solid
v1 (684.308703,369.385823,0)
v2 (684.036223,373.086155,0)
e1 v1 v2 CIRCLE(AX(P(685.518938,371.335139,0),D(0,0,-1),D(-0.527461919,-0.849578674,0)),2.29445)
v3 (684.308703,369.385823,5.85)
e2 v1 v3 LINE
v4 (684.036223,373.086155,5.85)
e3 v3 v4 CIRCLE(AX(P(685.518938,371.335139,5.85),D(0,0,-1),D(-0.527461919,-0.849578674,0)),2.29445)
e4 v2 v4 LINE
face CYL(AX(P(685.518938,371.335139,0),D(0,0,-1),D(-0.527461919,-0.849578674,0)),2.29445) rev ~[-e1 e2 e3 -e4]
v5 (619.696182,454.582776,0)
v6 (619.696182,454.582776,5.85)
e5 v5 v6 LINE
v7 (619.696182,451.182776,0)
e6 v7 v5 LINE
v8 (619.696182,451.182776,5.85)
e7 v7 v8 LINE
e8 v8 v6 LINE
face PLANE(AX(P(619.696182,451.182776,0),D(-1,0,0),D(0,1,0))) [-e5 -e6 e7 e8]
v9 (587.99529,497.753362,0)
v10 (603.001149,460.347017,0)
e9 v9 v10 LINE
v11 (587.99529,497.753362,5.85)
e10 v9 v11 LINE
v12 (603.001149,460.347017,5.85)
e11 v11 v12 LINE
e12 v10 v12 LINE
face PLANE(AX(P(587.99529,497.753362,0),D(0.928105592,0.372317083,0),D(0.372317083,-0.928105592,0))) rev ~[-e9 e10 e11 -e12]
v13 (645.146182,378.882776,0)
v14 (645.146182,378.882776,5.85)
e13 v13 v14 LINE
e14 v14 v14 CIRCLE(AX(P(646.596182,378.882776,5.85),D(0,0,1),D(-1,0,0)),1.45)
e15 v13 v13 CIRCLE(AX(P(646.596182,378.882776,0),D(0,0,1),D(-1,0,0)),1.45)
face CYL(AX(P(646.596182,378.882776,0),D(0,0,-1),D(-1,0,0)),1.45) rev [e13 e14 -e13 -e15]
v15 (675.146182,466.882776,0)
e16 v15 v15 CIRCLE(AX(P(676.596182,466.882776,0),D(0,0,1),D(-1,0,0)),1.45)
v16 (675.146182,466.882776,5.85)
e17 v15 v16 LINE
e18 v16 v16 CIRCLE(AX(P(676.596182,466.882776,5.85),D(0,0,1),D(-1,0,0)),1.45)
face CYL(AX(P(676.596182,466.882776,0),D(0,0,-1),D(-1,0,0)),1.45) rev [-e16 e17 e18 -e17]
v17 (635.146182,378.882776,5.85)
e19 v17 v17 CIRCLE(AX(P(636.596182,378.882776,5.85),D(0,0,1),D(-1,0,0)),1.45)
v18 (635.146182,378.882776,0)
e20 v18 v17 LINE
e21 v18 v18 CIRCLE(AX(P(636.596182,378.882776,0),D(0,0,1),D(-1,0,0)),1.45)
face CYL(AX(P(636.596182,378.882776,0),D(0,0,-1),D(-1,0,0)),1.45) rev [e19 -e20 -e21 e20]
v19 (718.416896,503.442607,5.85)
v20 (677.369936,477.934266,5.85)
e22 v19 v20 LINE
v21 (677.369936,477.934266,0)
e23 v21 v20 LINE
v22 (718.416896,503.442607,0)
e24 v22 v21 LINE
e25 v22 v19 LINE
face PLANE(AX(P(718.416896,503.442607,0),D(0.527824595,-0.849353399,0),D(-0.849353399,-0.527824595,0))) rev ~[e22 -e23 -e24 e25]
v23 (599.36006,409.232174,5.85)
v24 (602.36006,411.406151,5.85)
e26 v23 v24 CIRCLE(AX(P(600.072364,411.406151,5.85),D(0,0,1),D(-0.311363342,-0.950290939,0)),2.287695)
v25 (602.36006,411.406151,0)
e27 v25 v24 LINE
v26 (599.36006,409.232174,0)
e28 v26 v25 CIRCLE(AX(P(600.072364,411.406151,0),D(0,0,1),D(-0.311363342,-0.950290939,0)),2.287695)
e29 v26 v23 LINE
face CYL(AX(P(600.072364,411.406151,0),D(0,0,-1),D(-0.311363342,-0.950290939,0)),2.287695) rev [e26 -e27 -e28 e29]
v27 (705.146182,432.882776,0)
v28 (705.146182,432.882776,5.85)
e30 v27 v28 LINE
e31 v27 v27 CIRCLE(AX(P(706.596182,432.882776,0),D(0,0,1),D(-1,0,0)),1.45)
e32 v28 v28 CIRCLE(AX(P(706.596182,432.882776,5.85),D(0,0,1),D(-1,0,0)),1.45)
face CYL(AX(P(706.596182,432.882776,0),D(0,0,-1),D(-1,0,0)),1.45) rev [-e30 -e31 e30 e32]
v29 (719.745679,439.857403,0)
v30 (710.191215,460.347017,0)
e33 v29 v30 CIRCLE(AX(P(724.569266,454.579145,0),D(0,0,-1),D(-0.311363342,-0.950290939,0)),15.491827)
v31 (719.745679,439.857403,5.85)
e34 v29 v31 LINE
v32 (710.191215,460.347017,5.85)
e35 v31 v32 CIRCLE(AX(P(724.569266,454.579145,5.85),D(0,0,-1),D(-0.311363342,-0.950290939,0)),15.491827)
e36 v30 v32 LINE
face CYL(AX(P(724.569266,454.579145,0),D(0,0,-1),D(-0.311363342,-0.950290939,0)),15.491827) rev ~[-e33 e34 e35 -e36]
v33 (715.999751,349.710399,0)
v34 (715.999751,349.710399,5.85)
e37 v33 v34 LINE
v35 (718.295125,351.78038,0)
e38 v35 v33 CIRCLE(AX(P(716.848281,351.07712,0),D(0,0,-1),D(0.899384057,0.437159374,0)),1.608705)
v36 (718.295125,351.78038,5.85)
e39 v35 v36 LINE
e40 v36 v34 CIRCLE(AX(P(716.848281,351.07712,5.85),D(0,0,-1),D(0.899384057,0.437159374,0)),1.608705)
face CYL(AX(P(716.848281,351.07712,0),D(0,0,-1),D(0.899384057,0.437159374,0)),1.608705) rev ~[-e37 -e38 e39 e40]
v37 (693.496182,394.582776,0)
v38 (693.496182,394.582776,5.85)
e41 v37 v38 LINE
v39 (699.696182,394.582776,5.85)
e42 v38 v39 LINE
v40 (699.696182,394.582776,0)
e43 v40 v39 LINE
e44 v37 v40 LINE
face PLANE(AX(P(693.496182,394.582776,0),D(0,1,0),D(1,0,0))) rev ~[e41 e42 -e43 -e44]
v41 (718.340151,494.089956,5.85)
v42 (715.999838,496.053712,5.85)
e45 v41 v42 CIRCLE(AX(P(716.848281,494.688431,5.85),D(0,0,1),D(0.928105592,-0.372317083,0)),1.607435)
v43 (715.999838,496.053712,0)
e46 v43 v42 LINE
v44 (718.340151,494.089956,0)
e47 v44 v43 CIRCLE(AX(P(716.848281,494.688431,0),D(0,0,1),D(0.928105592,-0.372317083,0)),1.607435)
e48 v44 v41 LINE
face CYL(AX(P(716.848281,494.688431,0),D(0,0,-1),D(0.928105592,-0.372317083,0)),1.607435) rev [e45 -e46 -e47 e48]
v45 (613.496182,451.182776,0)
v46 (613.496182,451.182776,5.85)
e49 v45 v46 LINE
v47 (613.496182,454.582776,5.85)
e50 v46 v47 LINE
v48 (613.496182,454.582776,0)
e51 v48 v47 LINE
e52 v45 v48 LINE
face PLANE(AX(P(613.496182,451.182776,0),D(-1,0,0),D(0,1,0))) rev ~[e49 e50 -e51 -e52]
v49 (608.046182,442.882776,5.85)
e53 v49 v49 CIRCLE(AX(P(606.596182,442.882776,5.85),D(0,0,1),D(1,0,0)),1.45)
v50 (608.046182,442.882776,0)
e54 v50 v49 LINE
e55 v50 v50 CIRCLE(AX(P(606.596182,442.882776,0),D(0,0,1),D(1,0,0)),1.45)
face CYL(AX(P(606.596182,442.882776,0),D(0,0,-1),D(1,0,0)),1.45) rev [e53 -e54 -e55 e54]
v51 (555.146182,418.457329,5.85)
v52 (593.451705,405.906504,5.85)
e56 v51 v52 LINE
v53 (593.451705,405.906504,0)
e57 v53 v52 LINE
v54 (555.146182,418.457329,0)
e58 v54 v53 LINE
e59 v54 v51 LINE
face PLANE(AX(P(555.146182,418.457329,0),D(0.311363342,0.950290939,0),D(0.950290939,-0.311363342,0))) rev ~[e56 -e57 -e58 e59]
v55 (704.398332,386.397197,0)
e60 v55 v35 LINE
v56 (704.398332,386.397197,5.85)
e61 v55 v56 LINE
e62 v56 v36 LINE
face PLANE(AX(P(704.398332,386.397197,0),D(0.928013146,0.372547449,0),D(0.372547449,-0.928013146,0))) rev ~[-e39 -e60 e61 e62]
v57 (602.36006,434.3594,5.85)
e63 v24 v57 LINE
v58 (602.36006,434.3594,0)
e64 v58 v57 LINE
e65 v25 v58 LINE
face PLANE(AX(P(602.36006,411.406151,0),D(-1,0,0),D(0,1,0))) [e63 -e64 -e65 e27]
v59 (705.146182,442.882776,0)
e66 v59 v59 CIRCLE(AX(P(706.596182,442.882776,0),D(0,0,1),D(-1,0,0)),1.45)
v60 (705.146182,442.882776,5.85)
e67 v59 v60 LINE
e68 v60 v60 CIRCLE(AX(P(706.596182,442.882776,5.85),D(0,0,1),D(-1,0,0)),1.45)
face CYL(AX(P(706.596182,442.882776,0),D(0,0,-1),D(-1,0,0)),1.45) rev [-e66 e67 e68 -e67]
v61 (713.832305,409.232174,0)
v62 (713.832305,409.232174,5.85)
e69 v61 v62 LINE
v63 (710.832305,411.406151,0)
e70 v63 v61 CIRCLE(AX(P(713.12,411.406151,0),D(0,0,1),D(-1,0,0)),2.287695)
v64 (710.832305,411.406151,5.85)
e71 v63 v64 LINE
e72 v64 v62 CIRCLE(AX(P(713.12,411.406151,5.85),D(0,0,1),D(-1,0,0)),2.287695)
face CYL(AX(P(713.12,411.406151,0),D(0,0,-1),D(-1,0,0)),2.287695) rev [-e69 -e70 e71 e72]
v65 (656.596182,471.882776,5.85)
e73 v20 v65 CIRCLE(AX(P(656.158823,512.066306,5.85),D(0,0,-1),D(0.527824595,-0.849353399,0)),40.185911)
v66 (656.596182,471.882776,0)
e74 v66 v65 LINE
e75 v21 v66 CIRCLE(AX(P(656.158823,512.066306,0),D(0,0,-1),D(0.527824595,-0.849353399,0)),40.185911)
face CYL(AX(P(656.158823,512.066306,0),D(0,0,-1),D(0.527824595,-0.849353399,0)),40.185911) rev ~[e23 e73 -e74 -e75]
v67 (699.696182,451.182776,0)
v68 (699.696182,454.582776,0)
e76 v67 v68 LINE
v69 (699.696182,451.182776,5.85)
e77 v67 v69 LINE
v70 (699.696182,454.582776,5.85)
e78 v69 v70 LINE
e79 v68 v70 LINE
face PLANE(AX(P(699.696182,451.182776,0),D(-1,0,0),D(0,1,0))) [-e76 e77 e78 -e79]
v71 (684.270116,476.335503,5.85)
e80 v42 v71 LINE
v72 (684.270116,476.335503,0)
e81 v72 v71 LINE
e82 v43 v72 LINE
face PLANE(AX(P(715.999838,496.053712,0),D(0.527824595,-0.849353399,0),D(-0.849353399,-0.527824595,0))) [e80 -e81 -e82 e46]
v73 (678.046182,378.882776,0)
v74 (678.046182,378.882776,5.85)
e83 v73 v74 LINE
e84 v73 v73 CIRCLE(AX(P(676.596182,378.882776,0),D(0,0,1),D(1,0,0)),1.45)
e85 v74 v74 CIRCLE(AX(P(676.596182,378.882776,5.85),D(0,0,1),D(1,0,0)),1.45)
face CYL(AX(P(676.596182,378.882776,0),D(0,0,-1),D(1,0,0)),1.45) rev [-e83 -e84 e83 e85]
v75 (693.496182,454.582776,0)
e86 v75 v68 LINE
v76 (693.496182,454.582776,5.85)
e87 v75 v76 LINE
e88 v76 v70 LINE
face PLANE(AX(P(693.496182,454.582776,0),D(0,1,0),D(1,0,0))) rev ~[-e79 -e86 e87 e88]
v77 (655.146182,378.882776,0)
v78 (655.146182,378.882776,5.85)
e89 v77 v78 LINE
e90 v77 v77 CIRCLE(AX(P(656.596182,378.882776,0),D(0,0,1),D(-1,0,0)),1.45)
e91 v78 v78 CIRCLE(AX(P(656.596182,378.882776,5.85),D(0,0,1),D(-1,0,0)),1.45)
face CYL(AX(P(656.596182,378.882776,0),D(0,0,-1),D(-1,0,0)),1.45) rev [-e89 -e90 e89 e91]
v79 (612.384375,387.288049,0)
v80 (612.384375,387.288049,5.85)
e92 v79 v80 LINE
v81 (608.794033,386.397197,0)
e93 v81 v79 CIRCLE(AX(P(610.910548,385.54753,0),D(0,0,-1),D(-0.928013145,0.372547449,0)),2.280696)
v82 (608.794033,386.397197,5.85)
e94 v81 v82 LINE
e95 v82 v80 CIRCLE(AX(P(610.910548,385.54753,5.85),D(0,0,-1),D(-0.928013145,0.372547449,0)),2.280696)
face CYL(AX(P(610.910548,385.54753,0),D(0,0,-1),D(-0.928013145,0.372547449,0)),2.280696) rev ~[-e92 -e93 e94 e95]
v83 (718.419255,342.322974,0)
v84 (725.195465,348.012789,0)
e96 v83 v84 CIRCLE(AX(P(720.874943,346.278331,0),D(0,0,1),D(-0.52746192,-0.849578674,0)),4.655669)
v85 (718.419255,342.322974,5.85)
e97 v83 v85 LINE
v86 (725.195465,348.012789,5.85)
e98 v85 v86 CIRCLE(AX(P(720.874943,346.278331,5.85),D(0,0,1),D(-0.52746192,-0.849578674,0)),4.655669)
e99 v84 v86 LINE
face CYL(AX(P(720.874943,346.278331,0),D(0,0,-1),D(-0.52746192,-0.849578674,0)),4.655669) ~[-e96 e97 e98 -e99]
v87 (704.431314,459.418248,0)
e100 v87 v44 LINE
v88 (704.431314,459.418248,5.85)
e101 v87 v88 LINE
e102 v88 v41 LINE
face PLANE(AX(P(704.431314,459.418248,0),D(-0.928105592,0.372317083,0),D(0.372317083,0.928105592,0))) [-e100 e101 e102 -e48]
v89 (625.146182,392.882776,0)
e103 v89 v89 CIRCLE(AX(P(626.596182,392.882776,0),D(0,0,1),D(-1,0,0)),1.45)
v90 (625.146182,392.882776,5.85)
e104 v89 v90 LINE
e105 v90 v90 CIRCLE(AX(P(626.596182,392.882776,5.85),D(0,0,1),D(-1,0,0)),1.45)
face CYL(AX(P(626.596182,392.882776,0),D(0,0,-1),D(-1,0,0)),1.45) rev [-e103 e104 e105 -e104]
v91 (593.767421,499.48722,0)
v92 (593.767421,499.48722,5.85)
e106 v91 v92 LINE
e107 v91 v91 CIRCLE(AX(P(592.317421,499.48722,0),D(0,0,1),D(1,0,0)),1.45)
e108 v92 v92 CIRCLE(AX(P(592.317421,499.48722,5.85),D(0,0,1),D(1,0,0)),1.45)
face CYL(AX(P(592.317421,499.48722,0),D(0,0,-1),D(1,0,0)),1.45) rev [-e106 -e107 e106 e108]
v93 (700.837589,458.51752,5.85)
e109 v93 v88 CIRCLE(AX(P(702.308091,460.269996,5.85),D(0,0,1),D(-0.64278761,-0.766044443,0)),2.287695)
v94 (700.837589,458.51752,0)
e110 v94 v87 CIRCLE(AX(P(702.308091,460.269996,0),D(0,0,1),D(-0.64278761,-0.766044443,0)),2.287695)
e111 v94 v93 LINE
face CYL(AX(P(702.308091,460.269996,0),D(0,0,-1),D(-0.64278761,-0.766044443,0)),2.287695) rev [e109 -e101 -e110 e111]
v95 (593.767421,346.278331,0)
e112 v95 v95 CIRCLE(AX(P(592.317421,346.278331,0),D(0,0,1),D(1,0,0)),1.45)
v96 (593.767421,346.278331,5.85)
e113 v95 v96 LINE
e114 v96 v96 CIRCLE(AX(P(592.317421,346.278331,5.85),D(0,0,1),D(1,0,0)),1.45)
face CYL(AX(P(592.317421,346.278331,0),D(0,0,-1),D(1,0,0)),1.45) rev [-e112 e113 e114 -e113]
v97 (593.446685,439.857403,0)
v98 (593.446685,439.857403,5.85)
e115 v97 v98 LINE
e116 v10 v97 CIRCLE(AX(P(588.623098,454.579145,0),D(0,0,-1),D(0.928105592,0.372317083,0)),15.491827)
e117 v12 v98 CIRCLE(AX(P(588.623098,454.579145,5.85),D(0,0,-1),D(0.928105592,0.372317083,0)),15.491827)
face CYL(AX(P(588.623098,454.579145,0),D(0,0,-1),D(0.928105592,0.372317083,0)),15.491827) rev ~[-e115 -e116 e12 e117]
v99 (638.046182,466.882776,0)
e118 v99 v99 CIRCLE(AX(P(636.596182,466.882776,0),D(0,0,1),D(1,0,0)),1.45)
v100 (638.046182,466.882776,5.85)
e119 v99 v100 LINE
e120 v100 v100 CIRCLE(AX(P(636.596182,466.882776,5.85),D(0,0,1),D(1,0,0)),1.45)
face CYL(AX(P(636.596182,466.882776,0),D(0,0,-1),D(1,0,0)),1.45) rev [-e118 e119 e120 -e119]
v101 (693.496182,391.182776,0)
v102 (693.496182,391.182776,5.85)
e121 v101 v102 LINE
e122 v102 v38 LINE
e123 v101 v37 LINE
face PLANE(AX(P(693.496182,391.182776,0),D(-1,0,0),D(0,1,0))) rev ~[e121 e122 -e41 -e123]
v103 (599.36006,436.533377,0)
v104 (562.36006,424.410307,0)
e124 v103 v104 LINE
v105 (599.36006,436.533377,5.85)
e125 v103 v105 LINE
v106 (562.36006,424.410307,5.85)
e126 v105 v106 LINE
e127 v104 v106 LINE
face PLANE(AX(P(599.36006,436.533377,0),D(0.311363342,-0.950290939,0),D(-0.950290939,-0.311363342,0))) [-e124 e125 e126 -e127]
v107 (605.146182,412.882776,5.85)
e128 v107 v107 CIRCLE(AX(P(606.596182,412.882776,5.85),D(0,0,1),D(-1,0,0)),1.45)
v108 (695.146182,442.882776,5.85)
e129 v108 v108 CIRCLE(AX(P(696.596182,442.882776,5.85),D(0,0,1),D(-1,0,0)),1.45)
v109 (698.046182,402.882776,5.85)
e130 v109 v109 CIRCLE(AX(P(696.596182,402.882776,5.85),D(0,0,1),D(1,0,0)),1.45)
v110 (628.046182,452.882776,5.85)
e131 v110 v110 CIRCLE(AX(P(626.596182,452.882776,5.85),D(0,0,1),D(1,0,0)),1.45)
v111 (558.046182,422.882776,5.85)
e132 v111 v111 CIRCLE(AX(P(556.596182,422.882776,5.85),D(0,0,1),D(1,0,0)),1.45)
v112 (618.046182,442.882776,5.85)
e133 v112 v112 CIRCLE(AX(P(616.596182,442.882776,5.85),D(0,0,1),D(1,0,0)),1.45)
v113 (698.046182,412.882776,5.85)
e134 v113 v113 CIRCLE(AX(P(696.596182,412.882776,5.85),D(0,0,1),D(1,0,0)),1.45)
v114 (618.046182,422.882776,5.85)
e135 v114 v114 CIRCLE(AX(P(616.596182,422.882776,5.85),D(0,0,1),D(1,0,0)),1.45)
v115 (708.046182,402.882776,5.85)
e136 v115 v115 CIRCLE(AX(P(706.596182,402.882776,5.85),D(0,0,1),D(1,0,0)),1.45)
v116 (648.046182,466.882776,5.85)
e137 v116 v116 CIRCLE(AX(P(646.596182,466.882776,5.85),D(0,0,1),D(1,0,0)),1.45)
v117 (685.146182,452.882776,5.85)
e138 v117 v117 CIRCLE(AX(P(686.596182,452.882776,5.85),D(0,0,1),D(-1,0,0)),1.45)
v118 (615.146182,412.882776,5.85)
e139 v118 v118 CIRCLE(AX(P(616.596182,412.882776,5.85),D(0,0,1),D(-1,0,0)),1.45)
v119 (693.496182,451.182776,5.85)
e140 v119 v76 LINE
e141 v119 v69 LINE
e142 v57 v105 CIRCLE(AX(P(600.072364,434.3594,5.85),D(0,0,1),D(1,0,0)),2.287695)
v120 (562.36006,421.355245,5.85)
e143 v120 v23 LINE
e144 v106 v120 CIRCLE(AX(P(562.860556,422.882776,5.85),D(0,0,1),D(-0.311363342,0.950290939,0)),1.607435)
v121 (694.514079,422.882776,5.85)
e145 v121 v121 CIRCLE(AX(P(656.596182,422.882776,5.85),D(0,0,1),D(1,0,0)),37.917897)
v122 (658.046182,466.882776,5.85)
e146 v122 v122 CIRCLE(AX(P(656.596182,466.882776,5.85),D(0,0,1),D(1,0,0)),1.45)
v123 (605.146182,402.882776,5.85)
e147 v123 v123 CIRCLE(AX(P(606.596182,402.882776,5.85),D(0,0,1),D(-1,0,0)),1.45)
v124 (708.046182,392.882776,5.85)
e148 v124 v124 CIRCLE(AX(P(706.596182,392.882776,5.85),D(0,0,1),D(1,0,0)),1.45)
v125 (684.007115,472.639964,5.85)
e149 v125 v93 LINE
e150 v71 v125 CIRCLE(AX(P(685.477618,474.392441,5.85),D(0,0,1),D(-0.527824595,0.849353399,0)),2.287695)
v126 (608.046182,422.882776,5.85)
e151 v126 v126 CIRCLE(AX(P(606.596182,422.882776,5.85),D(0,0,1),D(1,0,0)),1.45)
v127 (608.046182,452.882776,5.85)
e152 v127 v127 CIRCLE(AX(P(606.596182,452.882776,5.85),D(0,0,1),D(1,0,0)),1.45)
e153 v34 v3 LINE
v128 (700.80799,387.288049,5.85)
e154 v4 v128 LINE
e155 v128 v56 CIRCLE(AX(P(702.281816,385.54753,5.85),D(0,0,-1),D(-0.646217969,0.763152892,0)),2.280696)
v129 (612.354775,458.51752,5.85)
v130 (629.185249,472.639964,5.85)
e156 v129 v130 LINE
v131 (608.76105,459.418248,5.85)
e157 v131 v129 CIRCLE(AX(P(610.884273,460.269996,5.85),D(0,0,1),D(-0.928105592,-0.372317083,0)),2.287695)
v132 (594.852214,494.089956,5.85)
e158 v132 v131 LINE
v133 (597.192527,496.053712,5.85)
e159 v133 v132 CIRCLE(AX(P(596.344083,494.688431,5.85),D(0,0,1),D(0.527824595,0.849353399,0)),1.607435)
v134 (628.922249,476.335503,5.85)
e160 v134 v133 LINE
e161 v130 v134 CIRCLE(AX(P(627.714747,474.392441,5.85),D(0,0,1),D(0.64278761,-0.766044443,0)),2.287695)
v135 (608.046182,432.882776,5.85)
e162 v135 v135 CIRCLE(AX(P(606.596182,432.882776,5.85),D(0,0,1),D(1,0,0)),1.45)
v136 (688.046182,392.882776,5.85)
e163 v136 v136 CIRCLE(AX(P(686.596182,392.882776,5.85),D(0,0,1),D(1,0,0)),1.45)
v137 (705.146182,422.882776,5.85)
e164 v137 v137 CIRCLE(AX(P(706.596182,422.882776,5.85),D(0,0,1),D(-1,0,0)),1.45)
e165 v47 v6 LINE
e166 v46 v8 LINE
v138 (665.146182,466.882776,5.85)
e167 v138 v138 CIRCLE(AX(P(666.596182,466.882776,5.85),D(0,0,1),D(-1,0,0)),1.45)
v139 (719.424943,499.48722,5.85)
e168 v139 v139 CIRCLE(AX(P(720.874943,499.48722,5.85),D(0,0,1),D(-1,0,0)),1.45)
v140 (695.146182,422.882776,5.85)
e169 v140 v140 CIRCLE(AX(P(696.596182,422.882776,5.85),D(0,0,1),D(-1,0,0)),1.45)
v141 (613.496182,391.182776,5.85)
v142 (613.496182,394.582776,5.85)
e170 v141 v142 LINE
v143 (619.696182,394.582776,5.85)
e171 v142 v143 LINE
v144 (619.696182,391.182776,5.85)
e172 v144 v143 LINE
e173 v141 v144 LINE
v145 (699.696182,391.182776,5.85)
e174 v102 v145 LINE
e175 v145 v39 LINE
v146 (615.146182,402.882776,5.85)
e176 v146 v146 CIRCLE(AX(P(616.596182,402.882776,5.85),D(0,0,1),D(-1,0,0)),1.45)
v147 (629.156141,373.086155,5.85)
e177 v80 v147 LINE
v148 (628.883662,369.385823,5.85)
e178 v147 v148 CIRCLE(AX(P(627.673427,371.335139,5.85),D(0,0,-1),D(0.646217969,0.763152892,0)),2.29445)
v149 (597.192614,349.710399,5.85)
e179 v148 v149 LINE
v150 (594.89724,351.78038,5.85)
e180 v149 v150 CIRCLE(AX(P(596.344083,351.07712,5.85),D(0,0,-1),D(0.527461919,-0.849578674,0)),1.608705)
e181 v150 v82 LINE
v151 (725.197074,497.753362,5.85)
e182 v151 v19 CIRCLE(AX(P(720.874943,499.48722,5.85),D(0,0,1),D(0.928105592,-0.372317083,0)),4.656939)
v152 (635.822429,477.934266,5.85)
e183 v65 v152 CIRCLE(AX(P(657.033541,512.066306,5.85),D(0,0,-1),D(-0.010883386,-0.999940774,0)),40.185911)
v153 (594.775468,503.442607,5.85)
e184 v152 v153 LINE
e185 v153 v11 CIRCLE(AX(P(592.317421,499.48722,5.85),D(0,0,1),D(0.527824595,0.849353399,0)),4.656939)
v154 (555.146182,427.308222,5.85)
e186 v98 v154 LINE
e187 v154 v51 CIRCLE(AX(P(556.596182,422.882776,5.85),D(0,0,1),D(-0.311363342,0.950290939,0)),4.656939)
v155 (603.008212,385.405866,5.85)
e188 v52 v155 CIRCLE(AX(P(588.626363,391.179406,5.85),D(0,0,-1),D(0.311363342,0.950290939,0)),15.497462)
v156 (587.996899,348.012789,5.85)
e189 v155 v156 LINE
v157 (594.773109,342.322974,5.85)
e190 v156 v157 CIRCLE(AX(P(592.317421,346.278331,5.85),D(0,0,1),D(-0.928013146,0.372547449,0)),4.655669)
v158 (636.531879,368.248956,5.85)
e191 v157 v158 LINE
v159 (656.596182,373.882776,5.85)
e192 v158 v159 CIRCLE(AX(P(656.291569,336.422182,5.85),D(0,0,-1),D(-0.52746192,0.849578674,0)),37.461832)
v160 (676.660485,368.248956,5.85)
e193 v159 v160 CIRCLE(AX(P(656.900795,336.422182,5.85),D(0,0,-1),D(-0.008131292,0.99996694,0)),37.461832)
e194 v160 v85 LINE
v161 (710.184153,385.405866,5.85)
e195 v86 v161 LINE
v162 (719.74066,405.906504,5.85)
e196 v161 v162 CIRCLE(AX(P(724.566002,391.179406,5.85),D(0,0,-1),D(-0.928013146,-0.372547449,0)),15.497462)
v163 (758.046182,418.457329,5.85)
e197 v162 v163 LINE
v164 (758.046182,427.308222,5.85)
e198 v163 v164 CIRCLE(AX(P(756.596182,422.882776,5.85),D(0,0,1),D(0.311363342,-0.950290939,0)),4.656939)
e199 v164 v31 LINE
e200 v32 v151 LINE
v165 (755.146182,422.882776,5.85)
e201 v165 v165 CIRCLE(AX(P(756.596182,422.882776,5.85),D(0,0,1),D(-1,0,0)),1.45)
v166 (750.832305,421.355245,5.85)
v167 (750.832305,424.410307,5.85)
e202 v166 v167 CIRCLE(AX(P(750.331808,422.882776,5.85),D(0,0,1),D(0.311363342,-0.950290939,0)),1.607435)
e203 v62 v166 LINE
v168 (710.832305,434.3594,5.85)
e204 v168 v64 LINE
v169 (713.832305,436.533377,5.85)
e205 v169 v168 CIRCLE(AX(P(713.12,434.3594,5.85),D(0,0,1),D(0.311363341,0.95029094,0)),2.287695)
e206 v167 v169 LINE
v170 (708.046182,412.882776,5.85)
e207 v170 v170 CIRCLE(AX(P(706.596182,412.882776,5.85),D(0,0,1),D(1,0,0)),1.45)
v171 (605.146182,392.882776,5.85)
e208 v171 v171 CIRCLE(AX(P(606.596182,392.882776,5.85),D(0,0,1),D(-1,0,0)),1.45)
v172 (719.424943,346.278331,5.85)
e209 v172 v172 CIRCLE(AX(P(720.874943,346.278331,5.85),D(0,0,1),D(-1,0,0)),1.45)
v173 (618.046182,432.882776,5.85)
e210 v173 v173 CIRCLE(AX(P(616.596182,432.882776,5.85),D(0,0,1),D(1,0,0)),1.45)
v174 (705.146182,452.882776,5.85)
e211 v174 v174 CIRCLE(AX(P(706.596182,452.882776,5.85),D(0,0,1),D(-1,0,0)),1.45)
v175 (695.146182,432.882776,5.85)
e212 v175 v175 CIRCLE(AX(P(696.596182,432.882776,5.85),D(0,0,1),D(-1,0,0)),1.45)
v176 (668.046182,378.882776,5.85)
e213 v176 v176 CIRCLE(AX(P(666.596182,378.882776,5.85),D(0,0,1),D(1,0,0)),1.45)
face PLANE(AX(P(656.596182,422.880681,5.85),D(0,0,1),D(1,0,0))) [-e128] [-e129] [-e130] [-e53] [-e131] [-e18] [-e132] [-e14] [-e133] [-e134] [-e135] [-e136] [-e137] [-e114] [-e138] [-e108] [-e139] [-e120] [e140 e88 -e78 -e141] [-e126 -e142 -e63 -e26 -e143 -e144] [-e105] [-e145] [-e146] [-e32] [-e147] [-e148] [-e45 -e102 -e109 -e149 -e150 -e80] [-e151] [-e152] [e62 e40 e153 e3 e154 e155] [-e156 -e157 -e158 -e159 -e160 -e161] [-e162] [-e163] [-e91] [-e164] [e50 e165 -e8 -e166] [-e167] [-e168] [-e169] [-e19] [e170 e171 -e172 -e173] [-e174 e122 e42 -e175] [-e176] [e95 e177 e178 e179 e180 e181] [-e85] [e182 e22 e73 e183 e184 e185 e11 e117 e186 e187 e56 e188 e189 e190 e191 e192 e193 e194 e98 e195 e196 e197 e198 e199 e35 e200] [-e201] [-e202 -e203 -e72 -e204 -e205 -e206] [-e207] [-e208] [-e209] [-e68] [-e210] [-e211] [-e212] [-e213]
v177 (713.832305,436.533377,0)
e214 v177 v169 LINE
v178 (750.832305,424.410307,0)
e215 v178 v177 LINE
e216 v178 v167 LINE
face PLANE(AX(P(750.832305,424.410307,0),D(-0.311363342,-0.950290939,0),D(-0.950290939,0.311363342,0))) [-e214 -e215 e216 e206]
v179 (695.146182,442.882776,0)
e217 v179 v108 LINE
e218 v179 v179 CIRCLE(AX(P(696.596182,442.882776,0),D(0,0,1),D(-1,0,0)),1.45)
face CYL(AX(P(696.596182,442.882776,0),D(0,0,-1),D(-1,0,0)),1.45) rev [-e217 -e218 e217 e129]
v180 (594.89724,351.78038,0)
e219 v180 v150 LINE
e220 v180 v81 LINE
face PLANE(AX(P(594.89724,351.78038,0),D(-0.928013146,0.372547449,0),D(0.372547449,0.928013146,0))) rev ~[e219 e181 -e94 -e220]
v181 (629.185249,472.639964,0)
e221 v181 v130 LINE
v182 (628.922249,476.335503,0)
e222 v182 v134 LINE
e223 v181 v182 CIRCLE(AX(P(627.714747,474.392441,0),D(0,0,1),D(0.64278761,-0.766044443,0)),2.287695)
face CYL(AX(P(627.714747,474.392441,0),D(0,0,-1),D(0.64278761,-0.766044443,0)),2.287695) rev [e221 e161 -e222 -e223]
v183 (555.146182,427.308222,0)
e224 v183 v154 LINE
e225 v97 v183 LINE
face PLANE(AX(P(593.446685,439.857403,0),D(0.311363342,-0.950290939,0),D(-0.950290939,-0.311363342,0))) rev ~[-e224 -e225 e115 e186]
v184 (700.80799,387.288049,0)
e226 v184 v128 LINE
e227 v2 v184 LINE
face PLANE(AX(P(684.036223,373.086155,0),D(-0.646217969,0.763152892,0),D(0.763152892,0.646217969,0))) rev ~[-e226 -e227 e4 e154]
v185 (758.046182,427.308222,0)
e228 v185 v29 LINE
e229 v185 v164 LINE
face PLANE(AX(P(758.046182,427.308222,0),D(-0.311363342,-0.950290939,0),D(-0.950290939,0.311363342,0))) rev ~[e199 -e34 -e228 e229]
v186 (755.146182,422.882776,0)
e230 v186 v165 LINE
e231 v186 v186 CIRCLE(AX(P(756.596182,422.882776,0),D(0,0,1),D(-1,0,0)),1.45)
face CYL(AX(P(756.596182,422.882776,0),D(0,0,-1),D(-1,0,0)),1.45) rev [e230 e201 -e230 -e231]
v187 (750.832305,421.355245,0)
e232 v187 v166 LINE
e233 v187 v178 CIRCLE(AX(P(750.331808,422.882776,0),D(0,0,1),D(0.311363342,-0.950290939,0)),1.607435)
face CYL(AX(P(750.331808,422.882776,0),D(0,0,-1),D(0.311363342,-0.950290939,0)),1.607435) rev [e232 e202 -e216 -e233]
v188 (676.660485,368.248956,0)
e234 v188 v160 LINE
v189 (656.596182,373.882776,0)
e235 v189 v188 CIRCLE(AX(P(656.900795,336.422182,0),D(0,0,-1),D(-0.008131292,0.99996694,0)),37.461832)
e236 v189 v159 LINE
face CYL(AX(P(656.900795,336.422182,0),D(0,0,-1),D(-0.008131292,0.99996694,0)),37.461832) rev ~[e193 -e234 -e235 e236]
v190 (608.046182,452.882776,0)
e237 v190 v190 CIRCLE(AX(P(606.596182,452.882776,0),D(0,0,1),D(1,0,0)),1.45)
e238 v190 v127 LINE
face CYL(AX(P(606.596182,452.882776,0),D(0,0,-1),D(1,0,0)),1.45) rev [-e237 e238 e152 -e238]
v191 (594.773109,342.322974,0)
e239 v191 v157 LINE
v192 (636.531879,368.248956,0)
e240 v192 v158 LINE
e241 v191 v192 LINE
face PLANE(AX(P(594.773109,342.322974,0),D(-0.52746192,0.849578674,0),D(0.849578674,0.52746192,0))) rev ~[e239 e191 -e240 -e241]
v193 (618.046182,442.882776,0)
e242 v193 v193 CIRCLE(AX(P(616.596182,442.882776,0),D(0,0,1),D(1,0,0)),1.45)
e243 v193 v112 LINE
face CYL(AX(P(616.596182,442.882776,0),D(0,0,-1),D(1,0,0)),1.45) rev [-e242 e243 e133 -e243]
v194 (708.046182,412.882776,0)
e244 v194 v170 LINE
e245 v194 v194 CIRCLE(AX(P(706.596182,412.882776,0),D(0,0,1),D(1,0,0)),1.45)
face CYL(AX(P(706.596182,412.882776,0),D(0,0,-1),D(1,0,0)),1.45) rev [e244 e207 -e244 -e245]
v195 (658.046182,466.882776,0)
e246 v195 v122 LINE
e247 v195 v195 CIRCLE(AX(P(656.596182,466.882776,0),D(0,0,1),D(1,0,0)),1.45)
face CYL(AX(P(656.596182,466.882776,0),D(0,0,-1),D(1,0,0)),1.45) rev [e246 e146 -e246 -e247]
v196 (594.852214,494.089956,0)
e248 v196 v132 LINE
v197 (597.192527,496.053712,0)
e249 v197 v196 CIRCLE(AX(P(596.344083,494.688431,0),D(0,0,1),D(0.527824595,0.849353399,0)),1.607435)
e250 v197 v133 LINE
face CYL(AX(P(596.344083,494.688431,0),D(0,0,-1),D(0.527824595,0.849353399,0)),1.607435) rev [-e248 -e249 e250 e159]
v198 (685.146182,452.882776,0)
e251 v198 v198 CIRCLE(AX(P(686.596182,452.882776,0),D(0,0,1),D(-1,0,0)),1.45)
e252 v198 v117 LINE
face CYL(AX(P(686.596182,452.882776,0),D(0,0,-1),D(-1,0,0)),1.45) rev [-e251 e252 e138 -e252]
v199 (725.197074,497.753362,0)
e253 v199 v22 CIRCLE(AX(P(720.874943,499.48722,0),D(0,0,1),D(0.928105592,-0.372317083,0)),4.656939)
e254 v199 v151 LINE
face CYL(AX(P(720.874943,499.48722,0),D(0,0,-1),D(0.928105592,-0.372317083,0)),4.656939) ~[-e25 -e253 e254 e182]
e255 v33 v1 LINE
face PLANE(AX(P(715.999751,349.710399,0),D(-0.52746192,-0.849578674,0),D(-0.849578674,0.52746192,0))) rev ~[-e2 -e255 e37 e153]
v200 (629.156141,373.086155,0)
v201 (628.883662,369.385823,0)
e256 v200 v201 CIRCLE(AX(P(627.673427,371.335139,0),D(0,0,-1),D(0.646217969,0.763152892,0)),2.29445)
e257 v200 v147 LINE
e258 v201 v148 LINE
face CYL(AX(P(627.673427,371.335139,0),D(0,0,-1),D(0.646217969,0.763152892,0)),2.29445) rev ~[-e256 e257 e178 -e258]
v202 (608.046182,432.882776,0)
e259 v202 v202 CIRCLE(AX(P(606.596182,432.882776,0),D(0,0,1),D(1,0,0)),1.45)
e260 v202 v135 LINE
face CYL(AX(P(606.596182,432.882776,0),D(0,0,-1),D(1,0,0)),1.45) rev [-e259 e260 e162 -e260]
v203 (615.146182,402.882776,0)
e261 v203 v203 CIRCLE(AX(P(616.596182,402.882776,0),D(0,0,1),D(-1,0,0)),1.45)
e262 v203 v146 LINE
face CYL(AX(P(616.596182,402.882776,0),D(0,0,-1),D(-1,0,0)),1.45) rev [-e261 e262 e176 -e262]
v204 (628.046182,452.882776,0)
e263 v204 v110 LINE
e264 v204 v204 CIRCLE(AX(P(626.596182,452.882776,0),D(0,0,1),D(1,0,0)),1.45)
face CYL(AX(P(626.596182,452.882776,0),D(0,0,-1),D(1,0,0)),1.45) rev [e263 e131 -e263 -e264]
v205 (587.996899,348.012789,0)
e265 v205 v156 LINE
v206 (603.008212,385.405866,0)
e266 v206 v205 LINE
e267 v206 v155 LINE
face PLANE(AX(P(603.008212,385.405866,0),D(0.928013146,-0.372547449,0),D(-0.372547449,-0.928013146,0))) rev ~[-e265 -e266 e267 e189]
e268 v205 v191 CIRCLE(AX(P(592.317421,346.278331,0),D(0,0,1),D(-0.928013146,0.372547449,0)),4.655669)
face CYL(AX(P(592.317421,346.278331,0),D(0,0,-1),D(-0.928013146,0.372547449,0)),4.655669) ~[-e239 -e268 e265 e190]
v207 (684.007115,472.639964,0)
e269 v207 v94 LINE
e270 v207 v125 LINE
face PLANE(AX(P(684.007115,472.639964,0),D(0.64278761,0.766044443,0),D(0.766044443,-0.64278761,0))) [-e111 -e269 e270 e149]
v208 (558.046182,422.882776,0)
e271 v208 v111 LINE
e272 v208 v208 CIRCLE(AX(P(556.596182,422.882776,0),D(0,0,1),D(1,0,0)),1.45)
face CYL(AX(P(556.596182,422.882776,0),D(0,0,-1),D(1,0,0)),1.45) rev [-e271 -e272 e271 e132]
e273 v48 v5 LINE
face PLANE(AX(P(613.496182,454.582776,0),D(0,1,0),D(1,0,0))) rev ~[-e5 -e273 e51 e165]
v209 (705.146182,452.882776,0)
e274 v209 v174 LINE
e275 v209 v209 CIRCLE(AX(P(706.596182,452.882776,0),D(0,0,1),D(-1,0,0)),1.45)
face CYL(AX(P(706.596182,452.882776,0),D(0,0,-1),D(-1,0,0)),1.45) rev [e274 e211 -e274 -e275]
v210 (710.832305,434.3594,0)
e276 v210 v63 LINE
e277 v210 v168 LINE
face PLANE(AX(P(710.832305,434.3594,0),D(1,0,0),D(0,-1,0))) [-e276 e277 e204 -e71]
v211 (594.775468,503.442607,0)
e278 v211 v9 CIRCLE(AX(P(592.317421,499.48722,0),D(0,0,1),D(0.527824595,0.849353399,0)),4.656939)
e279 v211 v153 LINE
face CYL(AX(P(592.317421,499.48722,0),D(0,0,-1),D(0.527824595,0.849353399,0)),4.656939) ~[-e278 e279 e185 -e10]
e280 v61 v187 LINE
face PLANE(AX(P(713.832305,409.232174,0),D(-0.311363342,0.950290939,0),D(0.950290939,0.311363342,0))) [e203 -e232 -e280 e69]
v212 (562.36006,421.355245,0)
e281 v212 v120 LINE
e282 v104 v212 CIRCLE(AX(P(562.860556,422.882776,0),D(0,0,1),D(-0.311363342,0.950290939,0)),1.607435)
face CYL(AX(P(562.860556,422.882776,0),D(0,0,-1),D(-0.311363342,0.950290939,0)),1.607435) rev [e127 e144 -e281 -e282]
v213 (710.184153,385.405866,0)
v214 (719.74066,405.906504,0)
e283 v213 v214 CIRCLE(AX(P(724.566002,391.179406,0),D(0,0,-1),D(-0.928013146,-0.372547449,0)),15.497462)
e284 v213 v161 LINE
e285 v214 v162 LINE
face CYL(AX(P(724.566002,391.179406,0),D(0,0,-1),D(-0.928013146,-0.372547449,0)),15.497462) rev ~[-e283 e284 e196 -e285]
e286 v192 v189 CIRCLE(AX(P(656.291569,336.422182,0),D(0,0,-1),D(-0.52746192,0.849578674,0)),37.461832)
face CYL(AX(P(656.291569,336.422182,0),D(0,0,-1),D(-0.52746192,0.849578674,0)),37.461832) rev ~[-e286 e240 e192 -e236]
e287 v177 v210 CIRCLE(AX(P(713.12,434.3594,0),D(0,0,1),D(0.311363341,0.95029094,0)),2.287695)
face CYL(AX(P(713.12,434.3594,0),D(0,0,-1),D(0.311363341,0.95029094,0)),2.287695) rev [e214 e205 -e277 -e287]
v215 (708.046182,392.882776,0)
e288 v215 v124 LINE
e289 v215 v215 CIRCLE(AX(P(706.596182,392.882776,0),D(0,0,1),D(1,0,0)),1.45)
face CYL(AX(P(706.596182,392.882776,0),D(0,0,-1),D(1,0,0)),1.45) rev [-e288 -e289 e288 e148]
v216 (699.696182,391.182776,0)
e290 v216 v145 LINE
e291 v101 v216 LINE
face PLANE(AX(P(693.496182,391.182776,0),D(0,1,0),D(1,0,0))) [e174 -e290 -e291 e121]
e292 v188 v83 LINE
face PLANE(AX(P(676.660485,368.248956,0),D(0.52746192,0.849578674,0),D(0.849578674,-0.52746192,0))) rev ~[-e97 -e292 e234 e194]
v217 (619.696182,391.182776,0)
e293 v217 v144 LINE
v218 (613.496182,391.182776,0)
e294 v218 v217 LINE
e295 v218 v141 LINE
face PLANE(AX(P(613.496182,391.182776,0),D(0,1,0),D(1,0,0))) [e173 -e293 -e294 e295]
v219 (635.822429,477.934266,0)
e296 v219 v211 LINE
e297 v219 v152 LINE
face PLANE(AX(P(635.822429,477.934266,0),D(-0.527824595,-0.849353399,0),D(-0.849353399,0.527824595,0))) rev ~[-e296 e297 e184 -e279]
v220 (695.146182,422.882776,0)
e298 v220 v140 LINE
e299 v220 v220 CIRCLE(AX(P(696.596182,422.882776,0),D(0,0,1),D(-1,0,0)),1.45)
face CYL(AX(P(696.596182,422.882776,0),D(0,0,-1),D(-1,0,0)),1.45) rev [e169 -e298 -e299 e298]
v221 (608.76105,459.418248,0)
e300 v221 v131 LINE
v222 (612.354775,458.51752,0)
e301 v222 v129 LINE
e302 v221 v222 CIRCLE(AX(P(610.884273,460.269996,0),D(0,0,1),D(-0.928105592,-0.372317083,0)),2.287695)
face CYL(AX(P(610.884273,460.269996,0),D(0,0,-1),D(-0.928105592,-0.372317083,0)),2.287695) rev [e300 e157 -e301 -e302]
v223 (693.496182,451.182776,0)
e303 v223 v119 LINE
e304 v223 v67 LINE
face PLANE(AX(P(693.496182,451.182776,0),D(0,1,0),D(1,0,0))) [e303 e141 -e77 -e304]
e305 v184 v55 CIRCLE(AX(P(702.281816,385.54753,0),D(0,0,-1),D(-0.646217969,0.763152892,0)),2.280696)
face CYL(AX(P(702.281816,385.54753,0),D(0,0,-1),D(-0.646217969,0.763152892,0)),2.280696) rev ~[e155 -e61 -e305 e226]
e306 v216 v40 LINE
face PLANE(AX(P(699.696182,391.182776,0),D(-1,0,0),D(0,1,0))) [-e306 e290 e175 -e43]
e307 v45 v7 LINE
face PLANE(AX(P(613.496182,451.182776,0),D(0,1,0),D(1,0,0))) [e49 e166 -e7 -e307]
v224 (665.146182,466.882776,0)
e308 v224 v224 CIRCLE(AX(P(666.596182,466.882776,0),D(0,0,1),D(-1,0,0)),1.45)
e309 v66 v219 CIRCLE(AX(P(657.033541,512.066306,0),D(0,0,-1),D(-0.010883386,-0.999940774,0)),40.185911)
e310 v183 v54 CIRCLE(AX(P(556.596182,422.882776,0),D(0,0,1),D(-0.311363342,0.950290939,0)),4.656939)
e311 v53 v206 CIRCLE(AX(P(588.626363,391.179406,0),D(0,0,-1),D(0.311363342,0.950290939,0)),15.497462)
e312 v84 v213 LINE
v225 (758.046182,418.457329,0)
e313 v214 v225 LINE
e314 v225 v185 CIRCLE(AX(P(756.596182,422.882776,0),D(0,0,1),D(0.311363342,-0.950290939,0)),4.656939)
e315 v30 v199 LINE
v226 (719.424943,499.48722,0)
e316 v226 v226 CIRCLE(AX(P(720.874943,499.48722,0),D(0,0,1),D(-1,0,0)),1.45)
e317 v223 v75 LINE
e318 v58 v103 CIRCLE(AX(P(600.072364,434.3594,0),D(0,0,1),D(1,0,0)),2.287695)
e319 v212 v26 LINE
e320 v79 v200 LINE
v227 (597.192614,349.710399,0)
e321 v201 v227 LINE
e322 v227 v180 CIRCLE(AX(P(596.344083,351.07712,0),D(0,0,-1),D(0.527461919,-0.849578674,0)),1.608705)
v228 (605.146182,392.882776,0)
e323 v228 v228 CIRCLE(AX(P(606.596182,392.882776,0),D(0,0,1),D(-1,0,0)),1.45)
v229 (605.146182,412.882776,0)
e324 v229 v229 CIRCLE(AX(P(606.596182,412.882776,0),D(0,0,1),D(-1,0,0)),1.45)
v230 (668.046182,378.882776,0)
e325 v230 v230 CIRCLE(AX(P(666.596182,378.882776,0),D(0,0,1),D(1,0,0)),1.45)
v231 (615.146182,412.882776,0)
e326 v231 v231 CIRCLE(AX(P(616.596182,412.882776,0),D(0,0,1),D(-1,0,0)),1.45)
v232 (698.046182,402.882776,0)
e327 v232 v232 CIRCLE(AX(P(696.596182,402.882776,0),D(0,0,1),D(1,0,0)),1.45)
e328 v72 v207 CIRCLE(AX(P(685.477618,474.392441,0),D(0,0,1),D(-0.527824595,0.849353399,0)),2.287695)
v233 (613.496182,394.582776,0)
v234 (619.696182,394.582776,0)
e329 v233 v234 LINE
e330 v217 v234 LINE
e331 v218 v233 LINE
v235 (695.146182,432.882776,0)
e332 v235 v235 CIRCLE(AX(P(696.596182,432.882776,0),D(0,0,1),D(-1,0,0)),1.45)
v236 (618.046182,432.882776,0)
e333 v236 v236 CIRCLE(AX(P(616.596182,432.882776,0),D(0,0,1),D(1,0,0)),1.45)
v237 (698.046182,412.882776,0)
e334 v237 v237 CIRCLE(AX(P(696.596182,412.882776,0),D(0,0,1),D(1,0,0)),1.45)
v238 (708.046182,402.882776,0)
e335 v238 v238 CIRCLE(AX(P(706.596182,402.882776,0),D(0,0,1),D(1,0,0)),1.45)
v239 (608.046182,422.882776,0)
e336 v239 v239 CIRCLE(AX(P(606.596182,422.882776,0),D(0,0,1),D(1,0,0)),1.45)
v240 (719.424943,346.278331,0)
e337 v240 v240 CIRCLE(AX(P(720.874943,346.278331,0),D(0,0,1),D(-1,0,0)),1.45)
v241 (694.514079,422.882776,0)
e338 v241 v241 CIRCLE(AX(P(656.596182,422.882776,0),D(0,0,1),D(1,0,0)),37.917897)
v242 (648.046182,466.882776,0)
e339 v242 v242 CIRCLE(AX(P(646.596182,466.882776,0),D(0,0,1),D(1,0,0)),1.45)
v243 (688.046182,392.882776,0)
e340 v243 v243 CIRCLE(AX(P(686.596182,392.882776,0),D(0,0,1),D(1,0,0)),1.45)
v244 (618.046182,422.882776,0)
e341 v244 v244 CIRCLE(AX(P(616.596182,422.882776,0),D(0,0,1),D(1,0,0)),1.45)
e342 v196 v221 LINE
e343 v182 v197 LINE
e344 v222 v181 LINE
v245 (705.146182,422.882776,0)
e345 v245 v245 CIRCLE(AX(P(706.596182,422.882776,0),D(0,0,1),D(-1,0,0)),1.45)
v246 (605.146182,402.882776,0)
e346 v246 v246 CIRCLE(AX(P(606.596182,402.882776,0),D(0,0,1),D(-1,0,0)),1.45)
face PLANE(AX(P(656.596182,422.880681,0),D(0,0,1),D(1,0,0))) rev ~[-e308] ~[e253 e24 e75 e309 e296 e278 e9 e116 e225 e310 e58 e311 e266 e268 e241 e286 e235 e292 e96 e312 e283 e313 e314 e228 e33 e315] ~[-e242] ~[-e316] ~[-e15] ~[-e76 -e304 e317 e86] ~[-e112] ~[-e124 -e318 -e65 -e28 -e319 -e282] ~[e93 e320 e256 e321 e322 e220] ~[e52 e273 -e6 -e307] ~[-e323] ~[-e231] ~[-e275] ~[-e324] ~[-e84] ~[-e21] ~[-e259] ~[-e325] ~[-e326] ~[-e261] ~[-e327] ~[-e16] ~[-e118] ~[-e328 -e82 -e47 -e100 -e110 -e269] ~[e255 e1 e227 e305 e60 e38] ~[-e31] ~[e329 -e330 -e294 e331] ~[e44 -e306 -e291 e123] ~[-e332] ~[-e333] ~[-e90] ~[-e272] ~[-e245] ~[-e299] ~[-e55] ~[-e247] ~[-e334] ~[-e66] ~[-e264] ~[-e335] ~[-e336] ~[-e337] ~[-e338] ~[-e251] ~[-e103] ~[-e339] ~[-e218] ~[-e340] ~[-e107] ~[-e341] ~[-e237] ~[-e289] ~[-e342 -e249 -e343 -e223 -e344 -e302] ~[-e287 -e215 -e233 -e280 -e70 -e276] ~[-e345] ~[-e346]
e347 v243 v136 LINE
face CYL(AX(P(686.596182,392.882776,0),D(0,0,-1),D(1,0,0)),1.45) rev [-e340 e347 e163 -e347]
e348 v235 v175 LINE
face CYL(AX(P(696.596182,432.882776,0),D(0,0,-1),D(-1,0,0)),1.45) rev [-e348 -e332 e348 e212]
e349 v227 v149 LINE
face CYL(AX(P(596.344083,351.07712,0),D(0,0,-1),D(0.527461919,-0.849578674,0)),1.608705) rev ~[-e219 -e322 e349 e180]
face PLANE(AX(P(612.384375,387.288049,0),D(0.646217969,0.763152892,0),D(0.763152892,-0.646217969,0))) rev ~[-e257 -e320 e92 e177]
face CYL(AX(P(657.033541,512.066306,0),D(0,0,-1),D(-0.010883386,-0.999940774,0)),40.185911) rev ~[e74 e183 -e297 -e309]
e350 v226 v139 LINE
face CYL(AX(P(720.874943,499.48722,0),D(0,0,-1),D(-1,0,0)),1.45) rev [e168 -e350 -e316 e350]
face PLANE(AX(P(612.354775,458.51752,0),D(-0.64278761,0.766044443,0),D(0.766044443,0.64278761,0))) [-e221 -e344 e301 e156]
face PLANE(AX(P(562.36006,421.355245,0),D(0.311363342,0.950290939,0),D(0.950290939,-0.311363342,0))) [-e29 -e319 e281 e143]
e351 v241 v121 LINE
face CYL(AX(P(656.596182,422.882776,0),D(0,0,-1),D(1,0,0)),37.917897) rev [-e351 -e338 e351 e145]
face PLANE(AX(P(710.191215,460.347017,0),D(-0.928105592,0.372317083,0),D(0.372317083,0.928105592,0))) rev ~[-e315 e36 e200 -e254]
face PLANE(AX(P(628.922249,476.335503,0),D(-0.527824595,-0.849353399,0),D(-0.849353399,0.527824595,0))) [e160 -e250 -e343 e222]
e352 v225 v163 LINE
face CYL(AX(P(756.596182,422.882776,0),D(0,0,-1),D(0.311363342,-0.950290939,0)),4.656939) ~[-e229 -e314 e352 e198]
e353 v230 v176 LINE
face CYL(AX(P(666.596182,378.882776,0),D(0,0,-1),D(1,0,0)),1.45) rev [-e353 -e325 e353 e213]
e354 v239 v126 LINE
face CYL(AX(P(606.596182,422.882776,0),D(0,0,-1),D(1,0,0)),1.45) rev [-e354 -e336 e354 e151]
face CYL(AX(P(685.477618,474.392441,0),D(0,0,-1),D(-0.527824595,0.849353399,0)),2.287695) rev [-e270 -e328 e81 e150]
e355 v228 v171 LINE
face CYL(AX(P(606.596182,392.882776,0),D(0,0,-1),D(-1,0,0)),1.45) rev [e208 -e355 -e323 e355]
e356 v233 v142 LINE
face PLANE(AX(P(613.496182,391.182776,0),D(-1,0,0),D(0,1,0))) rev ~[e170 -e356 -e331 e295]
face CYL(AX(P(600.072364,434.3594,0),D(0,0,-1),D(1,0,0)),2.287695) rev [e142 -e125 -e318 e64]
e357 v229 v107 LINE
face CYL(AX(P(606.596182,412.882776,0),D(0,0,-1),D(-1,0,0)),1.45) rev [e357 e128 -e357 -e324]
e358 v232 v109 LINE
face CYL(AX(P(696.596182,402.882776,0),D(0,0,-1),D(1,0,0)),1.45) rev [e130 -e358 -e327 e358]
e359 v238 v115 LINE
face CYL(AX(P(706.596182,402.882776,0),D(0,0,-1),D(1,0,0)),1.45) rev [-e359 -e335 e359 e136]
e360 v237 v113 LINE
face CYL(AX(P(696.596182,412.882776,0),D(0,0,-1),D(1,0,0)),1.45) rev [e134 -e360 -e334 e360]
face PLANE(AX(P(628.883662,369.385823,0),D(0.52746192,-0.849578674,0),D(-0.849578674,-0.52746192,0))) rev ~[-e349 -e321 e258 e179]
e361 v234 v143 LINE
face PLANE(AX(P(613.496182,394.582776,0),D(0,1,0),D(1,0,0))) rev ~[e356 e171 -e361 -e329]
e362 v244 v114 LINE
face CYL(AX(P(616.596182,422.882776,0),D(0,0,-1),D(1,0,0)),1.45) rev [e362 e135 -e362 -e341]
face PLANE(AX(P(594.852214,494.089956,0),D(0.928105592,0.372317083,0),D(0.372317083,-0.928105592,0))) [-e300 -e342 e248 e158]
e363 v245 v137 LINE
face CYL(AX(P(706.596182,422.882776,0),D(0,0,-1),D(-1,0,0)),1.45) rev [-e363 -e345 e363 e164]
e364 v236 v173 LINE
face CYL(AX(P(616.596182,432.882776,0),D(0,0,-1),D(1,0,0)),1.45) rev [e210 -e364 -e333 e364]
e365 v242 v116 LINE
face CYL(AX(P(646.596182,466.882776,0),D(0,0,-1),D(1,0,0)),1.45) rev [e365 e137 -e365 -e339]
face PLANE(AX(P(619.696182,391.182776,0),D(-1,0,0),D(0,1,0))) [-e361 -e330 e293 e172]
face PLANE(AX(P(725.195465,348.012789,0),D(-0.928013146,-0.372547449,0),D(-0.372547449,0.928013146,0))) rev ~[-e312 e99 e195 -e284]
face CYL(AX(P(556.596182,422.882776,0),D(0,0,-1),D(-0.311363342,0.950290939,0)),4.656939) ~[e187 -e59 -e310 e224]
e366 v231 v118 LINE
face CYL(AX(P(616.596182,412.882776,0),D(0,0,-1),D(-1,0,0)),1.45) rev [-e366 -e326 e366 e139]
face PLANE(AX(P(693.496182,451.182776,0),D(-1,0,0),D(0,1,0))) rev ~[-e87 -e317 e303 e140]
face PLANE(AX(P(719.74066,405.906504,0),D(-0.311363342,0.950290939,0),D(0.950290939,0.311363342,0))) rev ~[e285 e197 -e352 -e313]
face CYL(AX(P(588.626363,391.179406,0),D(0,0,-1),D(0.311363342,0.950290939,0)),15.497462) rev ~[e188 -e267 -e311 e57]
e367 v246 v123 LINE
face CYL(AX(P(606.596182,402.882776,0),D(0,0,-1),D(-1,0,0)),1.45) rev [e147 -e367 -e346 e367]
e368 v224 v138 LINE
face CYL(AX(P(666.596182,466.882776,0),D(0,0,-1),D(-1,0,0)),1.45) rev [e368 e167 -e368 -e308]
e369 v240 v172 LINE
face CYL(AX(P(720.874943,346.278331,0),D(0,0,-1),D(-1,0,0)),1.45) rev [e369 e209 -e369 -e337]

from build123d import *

# Parameters (mm, degrees)
SKETCH1_R           = 1.450000006
SKETCH1_R_2         = 1.45
SKETCH1_R_3         = 37.917896687
SKETCH1_W           = 6.2
SKETCH1_H           = 3.4
BOSS_EXTRUDE1_DEPTH = 5.85


with BuildPart() as part:
    # Sketch1 → Boss-Extrude1 (new body)
    with BuildSketch(Plane.XY):
        with BuildLine():
            Line((587.995290395, 497.753361998), (603.001149052, 460.347016836))
            ThreePointArc((603.001149052, 460.347016836), (602.663461243, 448.032016356), (593.446685098, 439.857402764))
            Line((593.446685098, 439.857402764), (555.146182231, 427.30822221))
            ThreePointArc((555.146182231, 427.30822221), (551.939243509, 422.882775531), (555.146182231, 418.457328853))
            Line((555.146182231, 418.457328853), (593.451704621, 405.906503648))
            ThreePointArc((593.451704621, 405.906503648), (602.672646523, 397.727172938), (603.008211739, 385.405865524))
            Line((603.008211739, 385.405865524), (587.996899243, 348.012788825))
            ThreePointArc((587.996899243, 348.012788825), (589.323611121, 342.712892318), (594.773109373, 342.32297413))
            Line((594.773109373, 342.32297413), (636.531879216, 368.248955529))
            ThreePointArc((636.531879216, 368.248955529), (646.164378733, 372.489187309), (656.596182238, 373.882775531))
            ThreePointArc((656.596182238, 373.882775531), (667.027985743, 372.489187309), (676.66048526, 368.248955529))
            Line((676.66048526, 368.248955529), (718.419255103, 342.32297413))
            ThreePointArc((718.419255103, 342.32297413), (723.868753355, 342.712892318), (725.195465233, 348.012788825))
            Line((725.195465233, 348.012788825), (710.184152737, 385.405865524))
            ThreePointArc((710.184152737, 385.405865524), (710.519717953, 397.727172938), (719.740659854, 405.906503648))
            Line((719.740659854, 405.906503648), (758.046182244, 418.457328853))
            ThreePointArc((758.046182244, 418.457328853), (761.253120966, 422.882775531), (758.046182244, 427.30822221))
            Line((758.046182244, 427.30822221), (719.745679378, 439.857402764))
            ThreePointArc((719.745679378, 439.857402764), (710.528903233, 448.032016356), (710.191215423, 460.347016836))
            Line((710.191215423, 460.347016836), (725.197074081, 497.753361998))
            ThreePointArc((725.197074081, 497.753361998), (723.86836572, 503.054641878), (718.416896408, 503.442606583))
            Line((718.416896408, 503.442606583), (677.369935548, 477.934266348))
            ThreePointArc((677.369935548, 477.934266348), (667.39800528, 473.484079569), (656.596182238, 471.882775531))
            ThreePointArc((656.596182238, 471.882775531), (645.794359196, 473.484079569), (635.822428927, 477.934266348))
            Line((635.822428927, 477.934266348), (594.775468067, 503.442606583))
            ThreePointArc((594.775468067, 503.442606583), (589.323998755, 503.054641878), (587.995290395, 497.753361998))
        make_face()
        with Locations((592.317421269, 499.487219843)):
            Circle(SKETCH1_R, mode=Mode.SUBTRACT)
        with Locations(Location((706.596182238, 432.882775531, 0), (0, 0, 180))):
            Circle(SKETCH1_R_2, mode=Mode.SUBTRACT)
        with Locations(Location((706.596182238, 442.882775531, 0), (0, 0, 180))):
            Circle(SKETCH1_R_2, mode=Mode.SUBTRACT)
        with Locations(Location((706.596182238, 452.882775531, 0), (0, 0, 180))):
            Circle(SKETCH1_R_2, mode=Mode.SUBTRACT)
        with Locations((706.596182238, 392.882775531)):
            Circle(SKETCH1_R_2, mode=Mode.SUBTRACT)
        with Locations((556.596182238, 422.882775531)):
            Circle(SKETCH1_R, mode=Mode.SUBTRACT)
        with Locations(Location((646.596182238, 378.882775531, 0), (0, 0, 180))):
            Circle(SKETCH1_R_2, mode=Mode.SUBTRACT)
        with Locations((656.596182238, 422.882775531)):
            Circle(SKETCH1_R_3, mode=Mode.SUBTRACT)
        with Locations(Location((636.596182238, 378.882775531, 0), (0, 0, 180))):
            Circle(SKETCH1_R_2, mode=Mode.SUBTRACT)
        with Locations((706.596182238, 402.882775531)):
            Circle(SKETCH1_R_2, mode=Mode.SUBTRACT)
        with Locations((656.596182238, 466.882775531)):
            Circle(SKETCH1_R_2, mode=Mode.SUBTRACT)
        with Locations(Location((696.596182238, 432.882775531, 0), (0, 0, 180))):
            Circle(SKETCH1_R_2, mode=Mode.SUBTRACT)
        with Locations((592.317421269, 346.278331219)):
            Circle(SKETCH1_R, mode=Mode.SUBTRACT)
        with Locations((706.596182238, 412.882775531)):
            Circle(SKETCH1_R_2, mode=Mode.SUBTRACT)
        with Locations(Location((656.596182238, 378.882775531, 0), (0, 0, 180))):
            Circle(SKETCH1_R_2, mode=Mode.SUBTRACT)
        with Locations(Location((696.596182238, 442.882775531, 0), (0, 0, 180))):
            Circle(SKETCH1_R_2, mode=Mode.SUBTRACT)
        with Locations((696.596182238, 402.882775531)):
            Circle(SKETCH1_R_2, mode=Mode.SUBTRACT)
        with Locations((696.596182238, 412.882775531)):
            Circle(SKETCH1_R_2, mode=Mode.SUBTRACT)
        with Locations((646.596182238, 466.882775531)):
            Circle(SKETCH1_R_2, mode=Mode.SUBTRACT)
        with Locations((636.596182238, 466.882775531)):
            Circle(SKETCH1_R_2, mode=Mode.SUBTRACT)
        with Locations(Location((696.596182238, 422.882775531, 0), (0, 0, 180))):
            Circle(SKETCH1_R_2, mode=Mode.SUBTRACT)
        with Locations(Location((676.596182238, 466.882775531, 0), (0, 0, 180))):
            Circle(SKETCH1_R_2, mode=Mode.SUBTRACT)
        with Locations(Location((666.596182238, 466.882775531, 0), (0, 0, 180))):
            Circle(SKETCH1_R_2, mode=Mode.SUBTRACT)
        with Locations(Location((706.596182238, 422.882775531, 0), (0, 0, 180))):
            Circle(SKETCH1_R_2, mode=Mode.SUBTRACT)
        with Locations(Location((686.596182238, 452.882775531, 0), (0, 0, 180))):
            Circle(SKETCH1_R_2, mode=Mode.SUBTRACT)
        with Locations((686.596182238, 392.882775531)):
            Circle(SKETCH1_R_2, mode=Mode.SUBTRACT)
        with Locations(Location((626.596182238, 392.882775531, 0), (0, 0, 180))):
            Circle(SKETCH1_R_2, mode=Mode.SUBTRACT)
        with Locations(Location((720.874943207, 346.278331219, 0), (0, 0, 180))):
            Circle(SKETCH1_R, mode=Mode.SUBTRACT)
        with Locations((676.596182238, 378.882775531)):
            Circle(SKETCH1_R_2, mode=Mode.SUBTRACT)
        with Locations((666.596182238, 378.882775531)):
            Circle(SKETCH1_R_2, mode=Mode.SUBTRACT)
        with Locations(Location((756.596182238, 422.882775531, 0), (0, 0, 180))):
            Circle(SKETCH1_R, mode=Mode.SUBTRACT)
        with Locations((626.596182238, 452.882775531)):
            Circle(SKETCH1_R_2, mode=Mode.SUBTRACT)
        with Locations((606.596182238, 422.882775531)):
            Circle(SKETCH1_R_2, mode=Mode.SUBTRACT)
        with Locations((616.596182238, 422.882775531)):
            Circle(SKETCH1_R_2, mode=Mode.SUBTRACT)
        with Locations(Location((616.596182238, 412.882775531, 0), (0, 0, 180))):
            Circle(SKETCH1_R_2, mode=Mode.SUBTRACT)
        with Locations(Location((720.874943207, 499.487219843, 0), (0, 0, 180))):
            Circle(SKETCH1_R, mode=Mode.SUBTRACT)
        with Locations(Location((616.596182238, 402.882775531, 0), (0, 0, 180))):
            Circle(SKETCH1_R_2, mode=Mode.SUBTRACT)
        with Locations((616.596182238, 442.882775531)):
            Circle(SKETCH1_R_2, mode=Mode.SUBTRACT)
        with Locations(Location((606.596182238, 412.882775531, 0), (0, 0, 180))):
            Circle(SKETCH1_R_2, mode=Mode.SUBTRACT)
        with Locations((616.596182238, 432.882775531)):
            Circle(SKETCH1_R_2, mode=Mode.SUBTRACT)
        with Locations(Location((606.596182238, 402.882775531, 0), (0, 0, 180))):
            Circle(SKETCH1_R_2, mode=Mode.SUBTRACT)
        with Locations(Location((606.596182238, 392.882775531, 0), (0, 0, 180))):
            Circle(SKETCH1_R_2, mode=Mode.SUBTRACT)
        with Locations((606.596182238, 452.882775531)):
            Circle(SKETCH1_R_2, mode=Mode.SUBTRACT)
        with Locations((606.596182238, 442.882775531)):
            Circle(SKETCH1_R_2, mode=Mode.SUBTRACT)
        with Locations((606.596182238, 432.882775531)):
            Circle(SKETCH1_R_2, mode=Mode.SUBTRACT)
        with BuildLine():
            Line((594.852213644, 494.089955534), (608.761050105, 459.418248349))
            ThreePointArc((608.761050105, 459.418248349), (610.328090614, 458.05093997), (612.354775393, 458.517520045))
            Line((612.354775393, 458.517520045), (629.185249241, 472.639964443))
            ThreePointArc((629.185249241, 472.639964443), (629.996671034, 474.554838547), (628.922248871, 476.335502797))
            Line((628.922248871, 476.335502797), (597.192526929, 496.053711548))
            ThreePointArc((597.192526929, 496.053711548), (595.310843783, 495.919797808), (594.852213644, 494.089955534))
        make_face(mode=Mode.SUBTRACT)
        with Locations((696.596182238, 392.882775531)):
            Rectangle(SKETCH1_W, SKETCH1_H, mode=Mode.SUBTRACT)
        with BuildLine():
            Line((562.360059701, 421.35524452), (599.360059701, 409.232174436))
            ThreePointArc((599.360059701, 409.232174436), (601.41475291, 409.553708225), (602.360059701, 411.406150729))
            Line((602.360059701, 411.406150729), (602.360059701, 434.359400333))
            ThreePointArc((602.360059701, 434.359400333), (601.41475291, 436.211842837), (599.360059701, 436.533376627))
            Line((599.360059701, 436.533376627), (562.360059701, 424.410306542))
            ThreePointArc((562.360059701, 424.410306542), (561.253120966, 422.882775531), (562.360059701, 421.35524452))
        make_face(mode=Mode.SUBTRACT)
        with BuildLine():
            Line((594.897239667, 351.78038038), (608.794032765, 386.397196889))
            ThreePointArc((608.794032765, 386.397196889), (610.36130643, 387.761102695), (612.3843749, 387.288049044))
            Line((612.3843749, 387.288049044), (629.156141394, 373.086154531))
            ThreePointArc((629.156141394, 373.086154531), (629.961681006, 371.166639364), (628.883661612, 369.385823055))
            Line((628.883661612, 369.385823055), (597.19261369, 349.710398658))
            ThreePointArc((597.19261369, 349.710398658), (595.266724956, 349.882452422), (594.897239667, 351.78038038))
        make_face(mode=Mode.SUBTRACT)
        with Locations((616.596182238, 452.882775531)):
            Rectangle(SKETCH1_W, SKETCH1_H, mode=Mode.SUBTRACT)
        with Locations((696.596182238, 452.882775531)):
            Rectangle(SKETCH1_W, SKETCH1_H, mode=Mode.SUBTRACT)
        with BuildLine():
            Line((715.999750786, 349.710398658), (684.308702864, 369.385823055))
            ThreePointArc((684.308702864, 369.385823055), (683.230683469, 371.166639364), (684.036223082, 373.086154531))
            Line((684.036223082, 373.086154531), (700.807989576, 387.288049044))
            ThreePointArc((700.807989576, 387.288049044), (702.831058046, 387.761102695), (704.39833171, 386.397196889))
            Line((704.39833171, 386.397196889), (718.295124809, 351.78038038))
            ThreePointArc((718.295124809, 351.78038038), (717.92563952, 349.882452422), (715.999750786, 349.710398658))
        make_face(mode=Mode.SUBTRACT)
        with BuildLine():
            Line((750.832304774, 424.410306542), (713.832304774, 436.533376627))
            ThreePointArc((713.832304774, 436.533376627), (711.777611566, 436.211842837), (710.832304774, 434.359400333))
            Line((710.832304774, 434.359400333), (710.832304774, 411.406150729))
            ThreePointArc((710.832304774, 411.406150729), (711.777611565, 409.553708225), (713.832304774, 409.232174436))
            Line((713.832304774, 409.232174436), (750.832304774, 421.35524452))
            ThreePointArc((750.832304774, 421.35524452), (751.939243509, 422.882775531), (750.832304774, 424.410306542))
        make_face(mode=Mode.SUBTRACT)
        with BuildLine():
            Line((684.007115235, 472.639964443), (700.837589083, 458.517520045))
            ThreePointArc((700.837589083, 458.517520045), (702.864273862, 458.05093997), (704.431314371, 459.418248349))
            Line((704.431314371, 459.418248349), (718.340150832, 494.089955534))
            ThreePointArc((718.340150832, 494.089955534), (717.881520693, 495.919797808), (715.999837547, 496.053711548))
            Line((715.999837547, 496.053711548), (684.270115605, 476.335502797))
            ThreePointArc((684.270115605, 476.335502797), (683.195693441, 474.554838547), (684.007115235, 472.639964443))
        make_face(mode=Mode.SUBTRACT)
        with Locations((616.596182238, 392.882775531)):
            Rectangle(SKETCH1_W, SKETCH1_H, mode=Mode.SUBTRACT)
    extrude(amount=BOSS_EXTRUDE1_DEPTH)


solid = part.part
